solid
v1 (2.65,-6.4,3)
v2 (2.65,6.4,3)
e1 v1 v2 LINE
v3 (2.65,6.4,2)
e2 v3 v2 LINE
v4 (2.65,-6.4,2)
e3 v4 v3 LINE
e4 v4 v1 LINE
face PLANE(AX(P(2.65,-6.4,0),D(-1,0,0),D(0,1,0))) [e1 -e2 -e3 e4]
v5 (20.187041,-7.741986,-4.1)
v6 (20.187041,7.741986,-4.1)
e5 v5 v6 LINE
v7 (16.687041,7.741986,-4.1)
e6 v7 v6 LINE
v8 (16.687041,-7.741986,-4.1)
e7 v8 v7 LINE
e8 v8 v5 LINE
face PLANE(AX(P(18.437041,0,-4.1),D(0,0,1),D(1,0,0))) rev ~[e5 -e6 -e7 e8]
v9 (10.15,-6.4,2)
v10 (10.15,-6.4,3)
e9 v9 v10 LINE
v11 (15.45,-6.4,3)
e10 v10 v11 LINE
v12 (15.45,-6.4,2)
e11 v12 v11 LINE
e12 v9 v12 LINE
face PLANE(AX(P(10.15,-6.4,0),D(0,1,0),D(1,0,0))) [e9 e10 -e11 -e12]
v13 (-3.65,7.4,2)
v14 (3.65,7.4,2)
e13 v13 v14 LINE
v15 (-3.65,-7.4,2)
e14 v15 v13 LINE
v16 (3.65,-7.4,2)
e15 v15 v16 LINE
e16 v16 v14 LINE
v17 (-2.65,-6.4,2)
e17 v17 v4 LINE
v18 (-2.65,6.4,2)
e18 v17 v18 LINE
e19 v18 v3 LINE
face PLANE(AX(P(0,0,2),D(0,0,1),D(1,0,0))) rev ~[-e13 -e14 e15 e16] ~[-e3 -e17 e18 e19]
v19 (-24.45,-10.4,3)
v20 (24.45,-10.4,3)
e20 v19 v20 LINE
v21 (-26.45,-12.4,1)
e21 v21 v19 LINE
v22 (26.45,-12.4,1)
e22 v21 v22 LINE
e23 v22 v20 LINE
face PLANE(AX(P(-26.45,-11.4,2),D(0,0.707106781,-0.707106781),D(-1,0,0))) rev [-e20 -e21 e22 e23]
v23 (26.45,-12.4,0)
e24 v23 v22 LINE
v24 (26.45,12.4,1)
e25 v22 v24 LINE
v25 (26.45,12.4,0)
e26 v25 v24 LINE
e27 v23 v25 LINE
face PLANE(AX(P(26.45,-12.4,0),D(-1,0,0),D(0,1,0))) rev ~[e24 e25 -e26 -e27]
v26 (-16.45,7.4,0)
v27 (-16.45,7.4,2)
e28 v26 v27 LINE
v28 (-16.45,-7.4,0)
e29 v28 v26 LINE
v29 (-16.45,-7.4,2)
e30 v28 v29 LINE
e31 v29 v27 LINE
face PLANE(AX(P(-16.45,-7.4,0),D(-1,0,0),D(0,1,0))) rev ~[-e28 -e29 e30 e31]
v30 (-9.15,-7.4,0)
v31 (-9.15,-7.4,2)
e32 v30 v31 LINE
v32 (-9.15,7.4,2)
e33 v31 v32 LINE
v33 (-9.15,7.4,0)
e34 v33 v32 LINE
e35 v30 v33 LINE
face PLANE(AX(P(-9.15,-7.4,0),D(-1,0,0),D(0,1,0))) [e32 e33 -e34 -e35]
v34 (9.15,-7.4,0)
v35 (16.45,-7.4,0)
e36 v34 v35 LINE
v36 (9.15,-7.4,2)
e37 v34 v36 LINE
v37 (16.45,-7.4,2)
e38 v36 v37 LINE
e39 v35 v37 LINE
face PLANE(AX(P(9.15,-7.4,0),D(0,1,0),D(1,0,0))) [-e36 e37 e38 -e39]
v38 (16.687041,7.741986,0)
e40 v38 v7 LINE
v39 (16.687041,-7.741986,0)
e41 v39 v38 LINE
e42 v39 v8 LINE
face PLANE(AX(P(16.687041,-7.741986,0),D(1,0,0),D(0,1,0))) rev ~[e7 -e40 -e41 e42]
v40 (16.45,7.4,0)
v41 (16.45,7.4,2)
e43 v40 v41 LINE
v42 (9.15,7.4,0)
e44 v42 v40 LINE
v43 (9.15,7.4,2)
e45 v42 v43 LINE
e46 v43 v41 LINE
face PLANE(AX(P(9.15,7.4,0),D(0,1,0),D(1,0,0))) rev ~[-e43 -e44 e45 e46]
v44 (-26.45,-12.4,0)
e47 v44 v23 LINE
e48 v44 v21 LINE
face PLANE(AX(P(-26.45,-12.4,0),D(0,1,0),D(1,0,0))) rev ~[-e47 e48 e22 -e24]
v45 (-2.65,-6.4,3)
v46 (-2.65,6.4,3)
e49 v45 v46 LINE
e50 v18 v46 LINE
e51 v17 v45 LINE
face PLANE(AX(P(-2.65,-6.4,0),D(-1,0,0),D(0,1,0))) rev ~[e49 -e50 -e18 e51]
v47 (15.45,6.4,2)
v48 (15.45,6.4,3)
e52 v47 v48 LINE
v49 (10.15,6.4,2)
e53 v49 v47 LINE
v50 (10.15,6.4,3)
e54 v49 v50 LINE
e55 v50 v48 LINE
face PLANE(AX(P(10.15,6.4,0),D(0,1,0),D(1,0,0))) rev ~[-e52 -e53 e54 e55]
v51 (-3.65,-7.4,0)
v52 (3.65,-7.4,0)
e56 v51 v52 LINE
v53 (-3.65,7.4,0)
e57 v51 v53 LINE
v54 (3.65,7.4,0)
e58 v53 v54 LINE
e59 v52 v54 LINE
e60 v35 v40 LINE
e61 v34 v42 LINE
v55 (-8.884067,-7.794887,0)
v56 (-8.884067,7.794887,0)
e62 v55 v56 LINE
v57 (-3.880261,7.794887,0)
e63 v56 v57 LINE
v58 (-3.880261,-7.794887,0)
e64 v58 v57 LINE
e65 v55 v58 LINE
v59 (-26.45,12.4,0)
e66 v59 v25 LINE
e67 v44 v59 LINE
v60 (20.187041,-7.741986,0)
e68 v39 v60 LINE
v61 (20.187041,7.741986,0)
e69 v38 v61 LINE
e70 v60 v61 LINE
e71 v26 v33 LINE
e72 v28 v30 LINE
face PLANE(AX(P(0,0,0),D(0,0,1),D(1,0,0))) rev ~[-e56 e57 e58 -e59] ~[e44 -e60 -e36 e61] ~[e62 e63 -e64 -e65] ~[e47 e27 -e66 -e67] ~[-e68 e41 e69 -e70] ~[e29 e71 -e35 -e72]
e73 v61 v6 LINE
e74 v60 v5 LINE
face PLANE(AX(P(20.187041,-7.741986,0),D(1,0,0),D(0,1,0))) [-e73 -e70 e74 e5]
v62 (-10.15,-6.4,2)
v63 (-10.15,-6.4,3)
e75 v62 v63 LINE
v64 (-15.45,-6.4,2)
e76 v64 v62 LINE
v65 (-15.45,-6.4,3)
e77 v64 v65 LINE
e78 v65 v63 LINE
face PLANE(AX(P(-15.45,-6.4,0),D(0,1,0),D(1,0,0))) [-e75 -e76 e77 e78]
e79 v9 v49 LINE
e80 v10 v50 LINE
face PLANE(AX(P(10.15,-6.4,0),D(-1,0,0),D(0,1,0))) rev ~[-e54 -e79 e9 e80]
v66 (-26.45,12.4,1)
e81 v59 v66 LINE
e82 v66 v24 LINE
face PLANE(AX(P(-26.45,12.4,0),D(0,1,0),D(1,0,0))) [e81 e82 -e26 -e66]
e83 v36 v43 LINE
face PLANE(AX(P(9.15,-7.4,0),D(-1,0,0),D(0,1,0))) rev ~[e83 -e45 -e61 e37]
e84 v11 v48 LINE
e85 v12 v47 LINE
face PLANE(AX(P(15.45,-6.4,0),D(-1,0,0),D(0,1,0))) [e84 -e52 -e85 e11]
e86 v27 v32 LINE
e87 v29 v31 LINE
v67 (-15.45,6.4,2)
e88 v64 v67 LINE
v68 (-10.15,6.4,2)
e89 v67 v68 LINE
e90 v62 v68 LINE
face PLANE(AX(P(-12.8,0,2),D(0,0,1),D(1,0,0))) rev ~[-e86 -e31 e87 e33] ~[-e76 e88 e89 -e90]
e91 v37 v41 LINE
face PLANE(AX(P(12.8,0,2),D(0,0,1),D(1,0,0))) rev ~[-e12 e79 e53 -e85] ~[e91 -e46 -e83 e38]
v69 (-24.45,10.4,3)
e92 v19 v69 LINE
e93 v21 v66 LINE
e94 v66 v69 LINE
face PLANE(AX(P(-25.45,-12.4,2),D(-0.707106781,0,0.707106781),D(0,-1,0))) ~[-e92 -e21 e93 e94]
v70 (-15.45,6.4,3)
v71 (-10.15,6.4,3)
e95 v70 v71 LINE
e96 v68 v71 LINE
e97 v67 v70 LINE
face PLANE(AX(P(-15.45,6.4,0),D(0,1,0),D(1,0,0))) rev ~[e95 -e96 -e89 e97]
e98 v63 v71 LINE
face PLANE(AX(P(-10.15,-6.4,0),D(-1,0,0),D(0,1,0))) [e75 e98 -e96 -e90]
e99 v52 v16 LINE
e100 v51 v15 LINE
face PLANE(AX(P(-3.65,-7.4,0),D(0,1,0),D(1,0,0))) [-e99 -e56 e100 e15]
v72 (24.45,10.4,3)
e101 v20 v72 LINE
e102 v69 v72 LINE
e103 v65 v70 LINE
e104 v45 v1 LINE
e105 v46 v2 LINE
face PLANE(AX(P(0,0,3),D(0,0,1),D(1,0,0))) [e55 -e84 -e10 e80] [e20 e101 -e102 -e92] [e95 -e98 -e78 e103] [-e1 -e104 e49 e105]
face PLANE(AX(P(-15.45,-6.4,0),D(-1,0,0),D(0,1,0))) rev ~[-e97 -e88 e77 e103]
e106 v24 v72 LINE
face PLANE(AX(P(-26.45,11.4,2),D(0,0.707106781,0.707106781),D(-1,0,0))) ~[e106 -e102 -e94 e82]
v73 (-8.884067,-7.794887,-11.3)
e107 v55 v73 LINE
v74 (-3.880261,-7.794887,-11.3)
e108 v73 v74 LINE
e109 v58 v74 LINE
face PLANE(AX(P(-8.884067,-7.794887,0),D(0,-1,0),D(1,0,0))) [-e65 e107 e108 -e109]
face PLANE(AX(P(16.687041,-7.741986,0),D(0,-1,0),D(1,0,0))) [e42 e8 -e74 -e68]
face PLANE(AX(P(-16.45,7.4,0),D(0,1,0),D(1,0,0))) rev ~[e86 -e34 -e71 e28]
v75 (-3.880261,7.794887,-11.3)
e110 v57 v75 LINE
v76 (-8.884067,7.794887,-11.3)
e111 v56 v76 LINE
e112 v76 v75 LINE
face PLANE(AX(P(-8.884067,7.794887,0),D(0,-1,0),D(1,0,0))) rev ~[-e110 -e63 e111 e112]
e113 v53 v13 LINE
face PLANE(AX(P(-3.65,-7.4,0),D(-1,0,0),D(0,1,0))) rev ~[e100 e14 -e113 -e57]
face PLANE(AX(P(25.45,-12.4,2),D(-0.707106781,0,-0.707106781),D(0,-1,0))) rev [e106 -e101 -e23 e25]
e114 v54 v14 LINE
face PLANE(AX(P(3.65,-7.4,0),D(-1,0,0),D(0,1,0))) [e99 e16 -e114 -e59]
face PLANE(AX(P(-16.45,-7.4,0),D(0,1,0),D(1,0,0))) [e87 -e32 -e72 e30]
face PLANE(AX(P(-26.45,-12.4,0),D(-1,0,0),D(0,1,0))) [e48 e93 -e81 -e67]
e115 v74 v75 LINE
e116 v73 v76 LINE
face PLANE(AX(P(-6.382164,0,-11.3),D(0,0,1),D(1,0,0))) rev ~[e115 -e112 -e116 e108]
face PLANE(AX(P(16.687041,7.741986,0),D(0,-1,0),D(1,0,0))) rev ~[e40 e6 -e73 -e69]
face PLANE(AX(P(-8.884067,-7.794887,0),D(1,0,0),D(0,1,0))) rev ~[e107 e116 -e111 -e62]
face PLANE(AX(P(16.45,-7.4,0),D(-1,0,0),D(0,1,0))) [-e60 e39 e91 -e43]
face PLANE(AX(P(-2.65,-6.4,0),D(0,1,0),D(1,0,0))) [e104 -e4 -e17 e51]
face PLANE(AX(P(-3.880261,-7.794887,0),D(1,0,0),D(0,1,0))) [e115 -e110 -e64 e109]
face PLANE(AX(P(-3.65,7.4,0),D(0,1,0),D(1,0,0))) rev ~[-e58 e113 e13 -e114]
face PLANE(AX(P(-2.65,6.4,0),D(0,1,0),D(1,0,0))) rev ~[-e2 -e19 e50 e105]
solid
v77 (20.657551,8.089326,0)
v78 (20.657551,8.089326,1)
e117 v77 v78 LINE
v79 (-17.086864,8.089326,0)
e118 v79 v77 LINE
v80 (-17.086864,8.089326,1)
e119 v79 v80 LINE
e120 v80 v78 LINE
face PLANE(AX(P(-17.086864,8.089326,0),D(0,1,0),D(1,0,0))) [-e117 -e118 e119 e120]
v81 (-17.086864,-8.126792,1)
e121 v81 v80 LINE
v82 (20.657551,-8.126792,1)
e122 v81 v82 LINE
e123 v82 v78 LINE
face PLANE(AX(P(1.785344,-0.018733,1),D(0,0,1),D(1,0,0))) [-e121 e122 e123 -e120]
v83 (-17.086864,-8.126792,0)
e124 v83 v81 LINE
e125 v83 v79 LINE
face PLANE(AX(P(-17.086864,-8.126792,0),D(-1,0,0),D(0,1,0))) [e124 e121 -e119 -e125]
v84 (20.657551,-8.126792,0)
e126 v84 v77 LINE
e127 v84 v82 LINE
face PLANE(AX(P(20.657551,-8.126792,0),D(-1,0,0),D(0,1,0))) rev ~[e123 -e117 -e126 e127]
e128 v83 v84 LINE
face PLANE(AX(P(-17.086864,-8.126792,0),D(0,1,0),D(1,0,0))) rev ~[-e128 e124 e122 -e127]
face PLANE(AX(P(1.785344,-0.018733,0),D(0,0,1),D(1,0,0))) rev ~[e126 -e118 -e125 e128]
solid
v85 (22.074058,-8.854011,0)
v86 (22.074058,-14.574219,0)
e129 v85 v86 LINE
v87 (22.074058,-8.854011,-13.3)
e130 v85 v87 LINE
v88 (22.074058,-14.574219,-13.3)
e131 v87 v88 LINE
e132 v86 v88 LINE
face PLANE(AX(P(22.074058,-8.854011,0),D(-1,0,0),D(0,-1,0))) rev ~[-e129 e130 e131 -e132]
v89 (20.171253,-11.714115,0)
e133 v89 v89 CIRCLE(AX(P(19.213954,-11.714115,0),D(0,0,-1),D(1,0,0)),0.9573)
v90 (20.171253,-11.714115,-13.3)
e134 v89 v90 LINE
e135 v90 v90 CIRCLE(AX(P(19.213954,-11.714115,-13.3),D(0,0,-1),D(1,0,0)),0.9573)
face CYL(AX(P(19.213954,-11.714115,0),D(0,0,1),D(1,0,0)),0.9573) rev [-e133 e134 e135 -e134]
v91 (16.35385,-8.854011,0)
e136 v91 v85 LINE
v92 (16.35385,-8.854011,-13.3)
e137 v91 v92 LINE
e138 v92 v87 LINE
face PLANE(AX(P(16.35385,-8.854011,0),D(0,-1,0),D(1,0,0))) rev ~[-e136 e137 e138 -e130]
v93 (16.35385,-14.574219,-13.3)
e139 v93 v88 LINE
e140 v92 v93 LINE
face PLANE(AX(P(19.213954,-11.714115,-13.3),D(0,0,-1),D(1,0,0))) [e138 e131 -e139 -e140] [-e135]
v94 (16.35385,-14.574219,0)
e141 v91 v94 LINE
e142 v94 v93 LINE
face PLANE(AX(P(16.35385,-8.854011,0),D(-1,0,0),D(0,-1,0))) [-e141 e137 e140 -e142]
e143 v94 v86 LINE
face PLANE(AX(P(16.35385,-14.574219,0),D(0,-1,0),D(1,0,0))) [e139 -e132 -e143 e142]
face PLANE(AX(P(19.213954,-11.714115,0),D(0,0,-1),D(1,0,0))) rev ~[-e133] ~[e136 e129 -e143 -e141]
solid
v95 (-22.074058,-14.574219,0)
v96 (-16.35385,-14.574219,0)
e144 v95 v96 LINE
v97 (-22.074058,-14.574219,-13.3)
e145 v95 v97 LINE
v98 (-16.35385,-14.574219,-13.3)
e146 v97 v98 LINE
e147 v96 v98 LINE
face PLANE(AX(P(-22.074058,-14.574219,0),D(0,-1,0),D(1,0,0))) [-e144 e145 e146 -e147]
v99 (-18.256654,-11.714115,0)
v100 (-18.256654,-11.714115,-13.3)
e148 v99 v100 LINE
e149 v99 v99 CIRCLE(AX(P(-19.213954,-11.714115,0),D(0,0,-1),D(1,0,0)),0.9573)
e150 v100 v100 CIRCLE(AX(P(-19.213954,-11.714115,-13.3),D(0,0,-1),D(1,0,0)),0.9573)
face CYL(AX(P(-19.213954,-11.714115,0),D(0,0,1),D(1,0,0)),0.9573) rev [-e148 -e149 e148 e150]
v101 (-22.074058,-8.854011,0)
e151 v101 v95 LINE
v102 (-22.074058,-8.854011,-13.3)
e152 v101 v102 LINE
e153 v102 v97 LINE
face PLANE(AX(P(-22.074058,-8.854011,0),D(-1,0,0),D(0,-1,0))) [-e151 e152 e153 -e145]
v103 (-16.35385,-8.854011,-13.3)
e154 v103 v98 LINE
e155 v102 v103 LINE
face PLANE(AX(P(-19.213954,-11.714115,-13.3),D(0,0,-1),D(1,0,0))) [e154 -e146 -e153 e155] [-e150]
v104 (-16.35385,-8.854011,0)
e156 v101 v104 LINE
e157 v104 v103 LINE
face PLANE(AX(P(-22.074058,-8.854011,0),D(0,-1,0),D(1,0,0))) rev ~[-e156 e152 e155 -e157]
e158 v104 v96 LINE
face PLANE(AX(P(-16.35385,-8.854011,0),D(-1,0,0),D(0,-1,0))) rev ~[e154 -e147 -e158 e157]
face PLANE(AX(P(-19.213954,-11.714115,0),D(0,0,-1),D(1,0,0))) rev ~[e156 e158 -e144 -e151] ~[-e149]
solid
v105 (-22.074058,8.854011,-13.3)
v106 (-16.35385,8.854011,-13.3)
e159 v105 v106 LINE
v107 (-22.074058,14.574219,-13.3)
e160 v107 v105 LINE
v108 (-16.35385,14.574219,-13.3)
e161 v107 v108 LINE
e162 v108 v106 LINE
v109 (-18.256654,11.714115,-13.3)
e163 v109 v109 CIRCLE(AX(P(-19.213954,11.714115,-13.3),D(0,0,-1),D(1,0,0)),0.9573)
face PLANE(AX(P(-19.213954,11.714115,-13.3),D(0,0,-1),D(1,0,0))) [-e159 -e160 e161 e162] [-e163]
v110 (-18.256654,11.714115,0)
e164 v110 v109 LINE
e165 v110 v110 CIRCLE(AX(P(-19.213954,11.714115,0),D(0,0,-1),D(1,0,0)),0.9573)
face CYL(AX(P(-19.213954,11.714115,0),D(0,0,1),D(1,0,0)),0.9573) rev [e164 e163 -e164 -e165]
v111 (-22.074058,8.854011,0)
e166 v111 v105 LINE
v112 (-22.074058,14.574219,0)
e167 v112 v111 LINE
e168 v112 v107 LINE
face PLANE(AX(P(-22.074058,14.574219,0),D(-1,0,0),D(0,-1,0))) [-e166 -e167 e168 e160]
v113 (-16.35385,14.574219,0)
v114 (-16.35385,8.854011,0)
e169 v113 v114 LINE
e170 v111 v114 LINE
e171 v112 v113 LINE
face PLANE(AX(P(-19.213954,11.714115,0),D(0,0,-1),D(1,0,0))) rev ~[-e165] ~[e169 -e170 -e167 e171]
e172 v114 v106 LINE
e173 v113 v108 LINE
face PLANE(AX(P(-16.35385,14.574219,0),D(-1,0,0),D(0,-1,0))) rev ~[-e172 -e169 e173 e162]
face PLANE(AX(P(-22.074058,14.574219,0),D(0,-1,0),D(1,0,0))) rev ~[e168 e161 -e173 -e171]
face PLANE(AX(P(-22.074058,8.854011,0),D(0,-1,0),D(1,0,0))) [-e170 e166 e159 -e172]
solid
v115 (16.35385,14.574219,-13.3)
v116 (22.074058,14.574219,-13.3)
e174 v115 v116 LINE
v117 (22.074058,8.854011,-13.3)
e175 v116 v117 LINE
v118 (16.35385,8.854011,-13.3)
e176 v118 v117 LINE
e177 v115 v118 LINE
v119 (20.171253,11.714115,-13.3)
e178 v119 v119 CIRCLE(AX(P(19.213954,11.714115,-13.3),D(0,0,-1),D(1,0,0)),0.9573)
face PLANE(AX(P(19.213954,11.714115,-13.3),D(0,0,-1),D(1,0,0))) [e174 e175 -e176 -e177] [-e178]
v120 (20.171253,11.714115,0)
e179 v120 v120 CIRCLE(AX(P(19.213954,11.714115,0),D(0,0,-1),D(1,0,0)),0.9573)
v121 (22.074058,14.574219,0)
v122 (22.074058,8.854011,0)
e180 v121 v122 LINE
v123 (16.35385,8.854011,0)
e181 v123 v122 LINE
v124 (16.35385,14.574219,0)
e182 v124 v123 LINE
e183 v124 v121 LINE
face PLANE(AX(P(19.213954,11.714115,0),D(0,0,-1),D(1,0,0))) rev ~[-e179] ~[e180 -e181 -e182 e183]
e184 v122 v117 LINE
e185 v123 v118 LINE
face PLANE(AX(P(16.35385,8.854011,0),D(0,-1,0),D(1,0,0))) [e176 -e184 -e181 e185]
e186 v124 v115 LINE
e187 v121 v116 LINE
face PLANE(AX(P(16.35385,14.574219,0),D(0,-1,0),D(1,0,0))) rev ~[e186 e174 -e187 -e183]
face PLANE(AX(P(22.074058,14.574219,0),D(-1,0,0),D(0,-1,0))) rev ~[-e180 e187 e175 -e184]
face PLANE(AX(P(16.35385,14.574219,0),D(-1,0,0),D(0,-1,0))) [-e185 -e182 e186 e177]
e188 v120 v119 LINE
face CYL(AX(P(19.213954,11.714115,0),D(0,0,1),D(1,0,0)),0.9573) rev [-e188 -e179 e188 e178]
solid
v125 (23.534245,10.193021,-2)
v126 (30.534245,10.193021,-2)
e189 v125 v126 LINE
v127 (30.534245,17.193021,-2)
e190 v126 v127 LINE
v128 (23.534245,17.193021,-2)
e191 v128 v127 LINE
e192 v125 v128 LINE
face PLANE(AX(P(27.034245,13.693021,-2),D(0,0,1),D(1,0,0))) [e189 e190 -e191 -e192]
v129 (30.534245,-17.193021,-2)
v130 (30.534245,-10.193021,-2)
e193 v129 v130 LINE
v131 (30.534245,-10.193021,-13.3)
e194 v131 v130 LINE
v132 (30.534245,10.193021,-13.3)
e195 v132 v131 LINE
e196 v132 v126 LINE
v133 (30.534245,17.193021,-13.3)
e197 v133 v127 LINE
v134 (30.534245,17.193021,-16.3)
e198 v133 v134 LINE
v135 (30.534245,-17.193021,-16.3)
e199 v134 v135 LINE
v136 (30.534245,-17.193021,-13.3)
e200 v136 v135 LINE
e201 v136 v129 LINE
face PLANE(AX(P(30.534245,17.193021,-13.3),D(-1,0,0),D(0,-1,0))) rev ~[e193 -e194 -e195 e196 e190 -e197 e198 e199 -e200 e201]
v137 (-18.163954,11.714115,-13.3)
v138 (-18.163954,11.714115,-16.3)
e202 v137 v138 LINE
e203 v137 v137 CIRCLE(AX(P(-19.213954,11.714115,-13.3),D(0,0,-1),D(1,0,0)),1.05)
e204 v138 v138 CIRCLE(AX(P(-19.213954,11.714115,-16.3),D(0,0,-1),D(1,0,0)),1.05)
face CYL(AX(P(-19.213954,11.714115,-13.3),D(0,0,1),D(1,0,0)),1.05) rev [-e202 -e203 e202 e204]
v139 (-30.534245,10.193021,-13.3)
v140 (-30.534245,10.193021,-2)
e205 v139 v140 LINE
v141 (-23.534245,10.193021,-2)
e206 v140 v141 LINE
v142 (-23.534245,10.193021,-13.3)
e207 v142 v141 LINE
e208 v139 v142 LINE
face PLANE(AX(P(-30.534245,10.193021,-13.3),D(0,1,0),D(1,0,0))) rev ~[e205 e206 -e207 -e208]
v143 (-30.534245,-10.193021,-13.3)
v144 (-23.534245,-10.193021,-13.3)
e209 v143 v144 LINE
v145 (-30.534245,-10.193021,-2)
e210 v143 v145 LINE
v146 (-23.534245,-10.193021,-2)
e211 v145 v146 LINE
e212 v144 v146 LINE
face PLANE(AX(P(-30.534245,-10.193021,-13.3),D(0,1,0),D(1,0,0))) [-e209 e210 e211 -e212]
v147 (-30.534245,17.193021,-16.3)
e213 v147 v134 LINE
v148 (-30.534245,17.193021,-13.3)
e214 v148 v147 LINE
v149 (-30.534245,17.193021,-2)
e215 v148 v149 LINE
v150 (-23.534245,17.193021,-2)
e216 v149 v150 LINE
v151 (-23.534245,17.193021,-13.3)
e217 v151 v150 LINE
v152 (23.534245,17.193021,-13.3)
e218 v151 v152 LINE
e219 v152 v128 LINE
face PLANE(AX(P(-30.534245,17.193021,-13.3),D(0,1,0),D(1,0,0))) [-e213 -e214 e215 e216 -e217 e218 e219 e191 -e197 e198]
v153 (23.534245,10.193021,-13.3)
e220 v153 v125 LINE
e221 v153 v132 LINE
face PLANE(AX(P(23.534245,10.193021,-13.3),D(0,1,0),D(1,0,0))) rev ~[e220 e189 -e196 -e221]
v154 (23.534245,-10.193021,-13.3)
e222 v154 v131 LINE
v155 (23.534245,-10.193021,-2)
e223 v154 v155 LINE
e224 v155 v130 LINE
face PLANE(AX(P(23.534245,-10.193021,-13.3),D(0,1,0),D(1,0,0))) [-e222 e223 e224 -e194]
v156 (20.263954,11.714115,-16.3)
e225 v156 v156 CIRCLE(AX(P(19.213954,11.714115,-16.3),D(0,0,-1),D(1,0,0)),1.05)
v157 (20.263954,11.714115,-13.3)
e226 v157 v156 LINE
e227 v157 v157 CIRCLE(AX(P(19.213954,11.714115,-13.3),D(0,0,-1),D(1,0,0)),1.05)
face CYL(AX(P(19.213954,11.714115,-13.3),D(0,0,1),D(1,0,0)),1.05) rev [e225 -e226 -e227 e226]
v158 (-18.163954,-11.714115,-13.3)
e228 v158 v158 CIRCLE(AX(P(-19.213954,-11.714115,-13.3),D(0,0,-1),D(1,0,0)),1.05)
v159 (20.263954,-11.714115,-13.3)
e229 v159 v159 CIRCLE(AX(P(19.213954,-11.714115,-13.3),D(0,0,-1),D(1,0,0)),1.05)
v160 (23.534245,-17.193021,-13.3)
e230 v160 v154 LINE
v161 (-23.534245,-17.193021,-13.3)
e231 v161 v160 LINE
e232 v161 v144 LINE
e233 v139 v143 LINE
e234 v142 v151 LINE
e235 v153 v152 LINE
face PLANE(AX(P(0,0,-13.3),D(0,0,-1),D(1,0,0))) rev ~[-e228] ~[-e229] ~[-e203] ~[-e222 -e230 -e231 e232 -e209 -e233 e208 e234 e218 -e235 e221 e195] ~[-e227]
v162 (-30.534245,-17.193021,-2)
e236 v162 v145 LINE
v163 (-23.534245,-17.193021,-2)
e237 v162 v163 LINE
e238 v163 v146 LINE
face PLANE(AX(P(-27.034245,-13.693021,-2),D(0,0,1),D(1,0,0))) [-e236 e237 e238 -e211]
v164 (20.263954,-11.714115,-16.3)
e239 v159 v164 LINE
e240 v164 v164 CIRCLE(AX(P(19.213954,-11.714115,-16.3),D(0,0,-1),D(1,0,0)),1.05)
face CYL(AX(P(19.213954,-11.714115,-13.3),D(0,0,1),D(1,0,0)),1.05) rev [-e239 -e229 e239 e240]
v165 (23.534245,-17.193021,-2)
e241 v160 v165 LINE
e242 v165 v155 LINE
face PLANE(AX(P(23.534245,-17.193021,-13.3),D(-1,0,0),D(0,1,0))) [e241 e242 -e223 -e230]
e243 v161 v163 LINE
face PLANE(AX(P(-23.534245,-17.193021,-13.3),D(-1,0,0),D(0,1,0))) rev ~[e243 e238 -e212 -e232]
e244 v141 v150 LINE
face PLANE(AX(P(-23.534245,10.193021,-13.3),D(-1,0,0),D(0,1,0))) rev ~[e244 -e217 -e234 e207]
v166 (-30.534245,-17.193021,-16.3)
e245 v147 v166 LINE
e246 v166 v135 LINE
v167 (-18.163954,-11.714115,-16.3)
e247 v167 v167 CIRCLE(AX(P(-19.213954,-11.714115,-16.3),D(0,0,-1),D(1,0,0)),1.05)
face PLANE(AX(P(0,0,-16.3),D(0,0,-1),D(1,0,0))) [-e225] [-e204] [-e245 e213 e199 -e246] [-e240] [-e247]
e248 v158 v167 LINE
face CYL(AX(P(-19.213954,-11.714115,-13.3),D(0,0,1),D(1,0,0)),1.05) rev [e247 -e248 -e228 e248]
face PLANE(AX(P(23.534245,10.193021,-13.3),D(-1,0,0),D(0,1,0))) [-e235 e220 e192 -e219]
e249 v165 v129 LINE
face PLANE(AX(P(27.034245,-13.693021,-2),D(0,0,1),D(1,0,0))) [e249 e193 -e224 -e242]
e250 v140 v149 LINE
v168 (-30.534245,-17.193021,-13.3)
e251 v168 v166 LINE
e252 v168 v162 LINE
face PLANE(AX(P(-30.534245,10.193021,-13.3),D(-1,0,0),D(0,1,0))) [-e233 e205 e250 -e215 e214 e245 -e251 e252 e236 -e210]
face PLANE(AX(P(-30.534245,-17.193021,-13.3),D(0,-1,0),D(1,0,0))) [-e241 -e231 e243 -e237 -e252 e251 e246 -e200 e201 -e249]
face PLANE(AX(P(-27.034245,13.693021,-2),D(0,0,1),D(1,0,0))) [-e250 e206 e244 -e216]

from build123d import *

# Parameters (mm, degrees)
F1_W      = 52.9
F1_H      = 24.8
F1_W_2    = 7.3
F1_H_2    = 14.8
F3_DEPTH  = 3
F4_SIZE   = 2
F5_W      = 5.0038062036
F5_H      = 15.5897745863
F6_DEPTH  = 11.3
F7_W      = 3.5
F7_H      = 15.4839724309
F8_DEPTH  = 4.1
F9_W      = 5.7202084002
F9_H      = 5.7202084002
F9_R      = 0.9572995055
F10_DEPTH = 13.3
F11_W     = 61.0684901476
F11_H     = 34.3860425055
F11_R     = 1.05
F11_W_2   = 5.7202084002
F11_H_2   = 5.7202084002
F12_DEPTH = 3
F13_W     = 7
F13_H     = 7
F15_DEPTH = 11.3
F16_W     = 5.3
F16_H     = 12.8
F17_DEPTH = 3
F18_DEPTH = 2
F19_W     = 37.7444140613
F19_H     = 16.21611882
F20_DEPTH = 1


with BuildPart() as f3:
    # F1 (on Top) → F3 (new body)
    with BuildSketch(Plane.XY):
        Rectangle(F1_W, F1_H)
        with Locations((-12.8, 0)):
            Rectangle(F1_W_2, F1_H_2, mode=Mode.SUBTRACT)
        Rectangle(F1_W_2, F1_H_2, mode=Mode.SUBTRACT)
        with Locations((12.8, 0)):
            Rectangle(F1_W_2, F1_H_2, mode=Mode.SUBTRACT)
        with Locations((-12.8, 0)):
            Rectangle(F1_W_2, F1_H_2)
        Rectangle(F1_W_2, F1_H_2)
        with Locations((12.8, 0)):
            Rectangle(F1_W_2, F1_H_2)
    extrude(amount=F3_DEPTH)

    # F4
    f4_edges = [f3.edges().sort_by_distance(p)[0] for p in [
        (0, 12.4, 3),
        (-26.45, 0, 3),
        (0, -12.4, 3),
        (26.45, 0, 3),
    ]]
    chamfer(f4_edges, length=F4_SIZE)

    # F5 (on face) → F6 (join)
    with BuildSketch(Plane.XY):
        with Locations((-6.3821640797, 0)):
            Rectangle(F5_W, F5_H)
    extrude(amount=-F6_DEPTH)

    # F7 (on face) → F8 (join)
    with BuildSketch(Plane.XY):
        with Locations((18.4370409697, 0)):
            Rectangle(F7_W, F7_H)
    extrude(amount=-F8_DEPTH)

    # F16 (on Top) → F17 (cut)
    with BuildSketch(Plane.XY):
        with Locations((-12.8, 0)):
            Rectangle(F16_W, F16_H)
        Rectangle(F16_W, F16_H)
        with Locations((12.8, 0)):
            Rectangle(F16_W, F16_H)
    extrude(amount=F17_DEPTH, mode=Mode.SUBTRACT)

    # F1 (on Top) → F18 (cut)
    with BuildSketch(Plane.XY):
        with Locations((-12.8, 0)):
            Rectangle(F1_W_2, F1_H_2)
        Rectangle(F1_W_2, F1_H_2)
        with Locations((12.8, 0)):
            Rectangle(F1_W_2, F1_H_2)
    extrude(amount=F18_DEPTH, mode=Mode.SUBTRACT)


with BuildPart() as f10:
    # F9 (on face) → F10 (new body)
    with BuildSketch(Plane(origin=(0, 0, 0), x_dir=(1, 0, 0), z_dir=(0, 0, -1))):
        with Locations((-19.2139537245, 11.7141148951)):
            Rectangle(F9_W, F9_H)
        with Locations((-19.2139537245, 11.7141148951)):
            Circle(F9_R, mode=Mode.SUBTRACT)
    extrude(amount=F10_DEPTH)


with BuildPart() as f10b:
    # F9 (on face) → F10, piece 2 (new body)
    with BuildSketch(Plane(origin=(0, 0, 0), x_dir=(1, 0, 0), z_dir=(0, 0, -1))):
        with Locations((19.2139537245, 11.7141148951)):
            Rectangle(F9_W, F9_H)
        with Locations((19.2139537245, 11.7141148951)):
            Circle(F9_R, mode=Mode.SUBTRACT)
    extrude(amount=F10_DEPTH)


with BuildPart() as f10c:
    # F9 (on face) → F10, piece 3 (new body)
    with BuildSketch(Plane(origin=(0, 0, 0), x_dir=(1, 0, 0), z_dir=(0, 0, -1))):
        with Locations((-19.2139537245, -11.7141148951)):
            Rectangle(F9_W, F9_H)
        with Locations((-19.2139537245, -11.7141148951)):
            Circle(F9_R, mode=Mode.SUBTRACT)
    extrude(amount=F10_DEPTH)


with BuildPart() as f10d:
    # F9 (on face) → F10, piece 4 (new body)
    with BuildSketch(Plane(origin=(0, 0, 0), x_dir=(1, 0, 0), z_dir=(0, 0, -1))):
        with Locations((19.2139537245, -11.7141148951)):
            Rectangle(F9_W, F9_H)
        with Locations((19.2139537245, -11.7141148951)):
            Circle(F9_R, mode=Mode.SUBTRACT)
    extrude(amount=F10_DEPTH)


with BuildPart() as f12:
    # F11 (on face) → F12 (new body)
    with BuildSketch(Plane(origin=(0, 0, -13.3), x_dir=(1, 0, 0), z_dir=(0, 0, -1))):
        Rectangle(F11_W, F11_H)
        with Locations((-19.2139537245, -11.7141148951)):
            Circle(F11_R, mode=Mode.SUBTRACT)
        with Locations((19.2139537245, -11.7141148951)):
            Circle(F11_R, mode=Mode.SUBTRACT)
        with Locations((-19.2139537245, 11.7141148951)):
            Rectangle(F11_W_2, F11_H_2, mode=Mode.SUBTRACT)
        with Locations((19.2139537245, 11.7141148951)):
            Circle(F11_R, mode=Mode.SUBTRACT)
        with Locations((-19.2139537245, 11.7141148951)):
            Rectangle(F11_W_2, F11_H_2)
        with Locations((-19.2139537245, 11.7141148951)):
            Circle(F11_R, mode=Mode.SUBTRACT)
    extrude(amount=F12_DEPTH)

    # F13 (on face) → F15 (join)
    with BuildSketch(Plane.XY.offset(-13.3)):
        with Locations((-27.0342450738, 13.6930212528)):
            Rectangle(F13_W, F13_H)
        with Locations((27.0342450738, 13.6930212528)):
            Rectangle(F13_W, F13_H)
        with Locations((27.0342450738, -13.6930212528)):
            Rectangle(F13_W, F13_H)
        with Locations((-27.0342450738, -13.6930212528)):
            Rectangle(F13_W, F13_H)
    extrude(amount=F15_DEPTH)


with BuildPart() as f20:
    # F19 (on Top) → F20 (new body)
    with BuildSketch(Plane.XY):
        with Locations((1.7853435129, -0.0187330879)):
            Rectangle(F19_W, F19_H)
    extrude(amount=F20_DEPTH)


solid = Compound([f3.part, f10.part, f10b.part, f10c.part, f10d.part, f12.part, f20.part])
